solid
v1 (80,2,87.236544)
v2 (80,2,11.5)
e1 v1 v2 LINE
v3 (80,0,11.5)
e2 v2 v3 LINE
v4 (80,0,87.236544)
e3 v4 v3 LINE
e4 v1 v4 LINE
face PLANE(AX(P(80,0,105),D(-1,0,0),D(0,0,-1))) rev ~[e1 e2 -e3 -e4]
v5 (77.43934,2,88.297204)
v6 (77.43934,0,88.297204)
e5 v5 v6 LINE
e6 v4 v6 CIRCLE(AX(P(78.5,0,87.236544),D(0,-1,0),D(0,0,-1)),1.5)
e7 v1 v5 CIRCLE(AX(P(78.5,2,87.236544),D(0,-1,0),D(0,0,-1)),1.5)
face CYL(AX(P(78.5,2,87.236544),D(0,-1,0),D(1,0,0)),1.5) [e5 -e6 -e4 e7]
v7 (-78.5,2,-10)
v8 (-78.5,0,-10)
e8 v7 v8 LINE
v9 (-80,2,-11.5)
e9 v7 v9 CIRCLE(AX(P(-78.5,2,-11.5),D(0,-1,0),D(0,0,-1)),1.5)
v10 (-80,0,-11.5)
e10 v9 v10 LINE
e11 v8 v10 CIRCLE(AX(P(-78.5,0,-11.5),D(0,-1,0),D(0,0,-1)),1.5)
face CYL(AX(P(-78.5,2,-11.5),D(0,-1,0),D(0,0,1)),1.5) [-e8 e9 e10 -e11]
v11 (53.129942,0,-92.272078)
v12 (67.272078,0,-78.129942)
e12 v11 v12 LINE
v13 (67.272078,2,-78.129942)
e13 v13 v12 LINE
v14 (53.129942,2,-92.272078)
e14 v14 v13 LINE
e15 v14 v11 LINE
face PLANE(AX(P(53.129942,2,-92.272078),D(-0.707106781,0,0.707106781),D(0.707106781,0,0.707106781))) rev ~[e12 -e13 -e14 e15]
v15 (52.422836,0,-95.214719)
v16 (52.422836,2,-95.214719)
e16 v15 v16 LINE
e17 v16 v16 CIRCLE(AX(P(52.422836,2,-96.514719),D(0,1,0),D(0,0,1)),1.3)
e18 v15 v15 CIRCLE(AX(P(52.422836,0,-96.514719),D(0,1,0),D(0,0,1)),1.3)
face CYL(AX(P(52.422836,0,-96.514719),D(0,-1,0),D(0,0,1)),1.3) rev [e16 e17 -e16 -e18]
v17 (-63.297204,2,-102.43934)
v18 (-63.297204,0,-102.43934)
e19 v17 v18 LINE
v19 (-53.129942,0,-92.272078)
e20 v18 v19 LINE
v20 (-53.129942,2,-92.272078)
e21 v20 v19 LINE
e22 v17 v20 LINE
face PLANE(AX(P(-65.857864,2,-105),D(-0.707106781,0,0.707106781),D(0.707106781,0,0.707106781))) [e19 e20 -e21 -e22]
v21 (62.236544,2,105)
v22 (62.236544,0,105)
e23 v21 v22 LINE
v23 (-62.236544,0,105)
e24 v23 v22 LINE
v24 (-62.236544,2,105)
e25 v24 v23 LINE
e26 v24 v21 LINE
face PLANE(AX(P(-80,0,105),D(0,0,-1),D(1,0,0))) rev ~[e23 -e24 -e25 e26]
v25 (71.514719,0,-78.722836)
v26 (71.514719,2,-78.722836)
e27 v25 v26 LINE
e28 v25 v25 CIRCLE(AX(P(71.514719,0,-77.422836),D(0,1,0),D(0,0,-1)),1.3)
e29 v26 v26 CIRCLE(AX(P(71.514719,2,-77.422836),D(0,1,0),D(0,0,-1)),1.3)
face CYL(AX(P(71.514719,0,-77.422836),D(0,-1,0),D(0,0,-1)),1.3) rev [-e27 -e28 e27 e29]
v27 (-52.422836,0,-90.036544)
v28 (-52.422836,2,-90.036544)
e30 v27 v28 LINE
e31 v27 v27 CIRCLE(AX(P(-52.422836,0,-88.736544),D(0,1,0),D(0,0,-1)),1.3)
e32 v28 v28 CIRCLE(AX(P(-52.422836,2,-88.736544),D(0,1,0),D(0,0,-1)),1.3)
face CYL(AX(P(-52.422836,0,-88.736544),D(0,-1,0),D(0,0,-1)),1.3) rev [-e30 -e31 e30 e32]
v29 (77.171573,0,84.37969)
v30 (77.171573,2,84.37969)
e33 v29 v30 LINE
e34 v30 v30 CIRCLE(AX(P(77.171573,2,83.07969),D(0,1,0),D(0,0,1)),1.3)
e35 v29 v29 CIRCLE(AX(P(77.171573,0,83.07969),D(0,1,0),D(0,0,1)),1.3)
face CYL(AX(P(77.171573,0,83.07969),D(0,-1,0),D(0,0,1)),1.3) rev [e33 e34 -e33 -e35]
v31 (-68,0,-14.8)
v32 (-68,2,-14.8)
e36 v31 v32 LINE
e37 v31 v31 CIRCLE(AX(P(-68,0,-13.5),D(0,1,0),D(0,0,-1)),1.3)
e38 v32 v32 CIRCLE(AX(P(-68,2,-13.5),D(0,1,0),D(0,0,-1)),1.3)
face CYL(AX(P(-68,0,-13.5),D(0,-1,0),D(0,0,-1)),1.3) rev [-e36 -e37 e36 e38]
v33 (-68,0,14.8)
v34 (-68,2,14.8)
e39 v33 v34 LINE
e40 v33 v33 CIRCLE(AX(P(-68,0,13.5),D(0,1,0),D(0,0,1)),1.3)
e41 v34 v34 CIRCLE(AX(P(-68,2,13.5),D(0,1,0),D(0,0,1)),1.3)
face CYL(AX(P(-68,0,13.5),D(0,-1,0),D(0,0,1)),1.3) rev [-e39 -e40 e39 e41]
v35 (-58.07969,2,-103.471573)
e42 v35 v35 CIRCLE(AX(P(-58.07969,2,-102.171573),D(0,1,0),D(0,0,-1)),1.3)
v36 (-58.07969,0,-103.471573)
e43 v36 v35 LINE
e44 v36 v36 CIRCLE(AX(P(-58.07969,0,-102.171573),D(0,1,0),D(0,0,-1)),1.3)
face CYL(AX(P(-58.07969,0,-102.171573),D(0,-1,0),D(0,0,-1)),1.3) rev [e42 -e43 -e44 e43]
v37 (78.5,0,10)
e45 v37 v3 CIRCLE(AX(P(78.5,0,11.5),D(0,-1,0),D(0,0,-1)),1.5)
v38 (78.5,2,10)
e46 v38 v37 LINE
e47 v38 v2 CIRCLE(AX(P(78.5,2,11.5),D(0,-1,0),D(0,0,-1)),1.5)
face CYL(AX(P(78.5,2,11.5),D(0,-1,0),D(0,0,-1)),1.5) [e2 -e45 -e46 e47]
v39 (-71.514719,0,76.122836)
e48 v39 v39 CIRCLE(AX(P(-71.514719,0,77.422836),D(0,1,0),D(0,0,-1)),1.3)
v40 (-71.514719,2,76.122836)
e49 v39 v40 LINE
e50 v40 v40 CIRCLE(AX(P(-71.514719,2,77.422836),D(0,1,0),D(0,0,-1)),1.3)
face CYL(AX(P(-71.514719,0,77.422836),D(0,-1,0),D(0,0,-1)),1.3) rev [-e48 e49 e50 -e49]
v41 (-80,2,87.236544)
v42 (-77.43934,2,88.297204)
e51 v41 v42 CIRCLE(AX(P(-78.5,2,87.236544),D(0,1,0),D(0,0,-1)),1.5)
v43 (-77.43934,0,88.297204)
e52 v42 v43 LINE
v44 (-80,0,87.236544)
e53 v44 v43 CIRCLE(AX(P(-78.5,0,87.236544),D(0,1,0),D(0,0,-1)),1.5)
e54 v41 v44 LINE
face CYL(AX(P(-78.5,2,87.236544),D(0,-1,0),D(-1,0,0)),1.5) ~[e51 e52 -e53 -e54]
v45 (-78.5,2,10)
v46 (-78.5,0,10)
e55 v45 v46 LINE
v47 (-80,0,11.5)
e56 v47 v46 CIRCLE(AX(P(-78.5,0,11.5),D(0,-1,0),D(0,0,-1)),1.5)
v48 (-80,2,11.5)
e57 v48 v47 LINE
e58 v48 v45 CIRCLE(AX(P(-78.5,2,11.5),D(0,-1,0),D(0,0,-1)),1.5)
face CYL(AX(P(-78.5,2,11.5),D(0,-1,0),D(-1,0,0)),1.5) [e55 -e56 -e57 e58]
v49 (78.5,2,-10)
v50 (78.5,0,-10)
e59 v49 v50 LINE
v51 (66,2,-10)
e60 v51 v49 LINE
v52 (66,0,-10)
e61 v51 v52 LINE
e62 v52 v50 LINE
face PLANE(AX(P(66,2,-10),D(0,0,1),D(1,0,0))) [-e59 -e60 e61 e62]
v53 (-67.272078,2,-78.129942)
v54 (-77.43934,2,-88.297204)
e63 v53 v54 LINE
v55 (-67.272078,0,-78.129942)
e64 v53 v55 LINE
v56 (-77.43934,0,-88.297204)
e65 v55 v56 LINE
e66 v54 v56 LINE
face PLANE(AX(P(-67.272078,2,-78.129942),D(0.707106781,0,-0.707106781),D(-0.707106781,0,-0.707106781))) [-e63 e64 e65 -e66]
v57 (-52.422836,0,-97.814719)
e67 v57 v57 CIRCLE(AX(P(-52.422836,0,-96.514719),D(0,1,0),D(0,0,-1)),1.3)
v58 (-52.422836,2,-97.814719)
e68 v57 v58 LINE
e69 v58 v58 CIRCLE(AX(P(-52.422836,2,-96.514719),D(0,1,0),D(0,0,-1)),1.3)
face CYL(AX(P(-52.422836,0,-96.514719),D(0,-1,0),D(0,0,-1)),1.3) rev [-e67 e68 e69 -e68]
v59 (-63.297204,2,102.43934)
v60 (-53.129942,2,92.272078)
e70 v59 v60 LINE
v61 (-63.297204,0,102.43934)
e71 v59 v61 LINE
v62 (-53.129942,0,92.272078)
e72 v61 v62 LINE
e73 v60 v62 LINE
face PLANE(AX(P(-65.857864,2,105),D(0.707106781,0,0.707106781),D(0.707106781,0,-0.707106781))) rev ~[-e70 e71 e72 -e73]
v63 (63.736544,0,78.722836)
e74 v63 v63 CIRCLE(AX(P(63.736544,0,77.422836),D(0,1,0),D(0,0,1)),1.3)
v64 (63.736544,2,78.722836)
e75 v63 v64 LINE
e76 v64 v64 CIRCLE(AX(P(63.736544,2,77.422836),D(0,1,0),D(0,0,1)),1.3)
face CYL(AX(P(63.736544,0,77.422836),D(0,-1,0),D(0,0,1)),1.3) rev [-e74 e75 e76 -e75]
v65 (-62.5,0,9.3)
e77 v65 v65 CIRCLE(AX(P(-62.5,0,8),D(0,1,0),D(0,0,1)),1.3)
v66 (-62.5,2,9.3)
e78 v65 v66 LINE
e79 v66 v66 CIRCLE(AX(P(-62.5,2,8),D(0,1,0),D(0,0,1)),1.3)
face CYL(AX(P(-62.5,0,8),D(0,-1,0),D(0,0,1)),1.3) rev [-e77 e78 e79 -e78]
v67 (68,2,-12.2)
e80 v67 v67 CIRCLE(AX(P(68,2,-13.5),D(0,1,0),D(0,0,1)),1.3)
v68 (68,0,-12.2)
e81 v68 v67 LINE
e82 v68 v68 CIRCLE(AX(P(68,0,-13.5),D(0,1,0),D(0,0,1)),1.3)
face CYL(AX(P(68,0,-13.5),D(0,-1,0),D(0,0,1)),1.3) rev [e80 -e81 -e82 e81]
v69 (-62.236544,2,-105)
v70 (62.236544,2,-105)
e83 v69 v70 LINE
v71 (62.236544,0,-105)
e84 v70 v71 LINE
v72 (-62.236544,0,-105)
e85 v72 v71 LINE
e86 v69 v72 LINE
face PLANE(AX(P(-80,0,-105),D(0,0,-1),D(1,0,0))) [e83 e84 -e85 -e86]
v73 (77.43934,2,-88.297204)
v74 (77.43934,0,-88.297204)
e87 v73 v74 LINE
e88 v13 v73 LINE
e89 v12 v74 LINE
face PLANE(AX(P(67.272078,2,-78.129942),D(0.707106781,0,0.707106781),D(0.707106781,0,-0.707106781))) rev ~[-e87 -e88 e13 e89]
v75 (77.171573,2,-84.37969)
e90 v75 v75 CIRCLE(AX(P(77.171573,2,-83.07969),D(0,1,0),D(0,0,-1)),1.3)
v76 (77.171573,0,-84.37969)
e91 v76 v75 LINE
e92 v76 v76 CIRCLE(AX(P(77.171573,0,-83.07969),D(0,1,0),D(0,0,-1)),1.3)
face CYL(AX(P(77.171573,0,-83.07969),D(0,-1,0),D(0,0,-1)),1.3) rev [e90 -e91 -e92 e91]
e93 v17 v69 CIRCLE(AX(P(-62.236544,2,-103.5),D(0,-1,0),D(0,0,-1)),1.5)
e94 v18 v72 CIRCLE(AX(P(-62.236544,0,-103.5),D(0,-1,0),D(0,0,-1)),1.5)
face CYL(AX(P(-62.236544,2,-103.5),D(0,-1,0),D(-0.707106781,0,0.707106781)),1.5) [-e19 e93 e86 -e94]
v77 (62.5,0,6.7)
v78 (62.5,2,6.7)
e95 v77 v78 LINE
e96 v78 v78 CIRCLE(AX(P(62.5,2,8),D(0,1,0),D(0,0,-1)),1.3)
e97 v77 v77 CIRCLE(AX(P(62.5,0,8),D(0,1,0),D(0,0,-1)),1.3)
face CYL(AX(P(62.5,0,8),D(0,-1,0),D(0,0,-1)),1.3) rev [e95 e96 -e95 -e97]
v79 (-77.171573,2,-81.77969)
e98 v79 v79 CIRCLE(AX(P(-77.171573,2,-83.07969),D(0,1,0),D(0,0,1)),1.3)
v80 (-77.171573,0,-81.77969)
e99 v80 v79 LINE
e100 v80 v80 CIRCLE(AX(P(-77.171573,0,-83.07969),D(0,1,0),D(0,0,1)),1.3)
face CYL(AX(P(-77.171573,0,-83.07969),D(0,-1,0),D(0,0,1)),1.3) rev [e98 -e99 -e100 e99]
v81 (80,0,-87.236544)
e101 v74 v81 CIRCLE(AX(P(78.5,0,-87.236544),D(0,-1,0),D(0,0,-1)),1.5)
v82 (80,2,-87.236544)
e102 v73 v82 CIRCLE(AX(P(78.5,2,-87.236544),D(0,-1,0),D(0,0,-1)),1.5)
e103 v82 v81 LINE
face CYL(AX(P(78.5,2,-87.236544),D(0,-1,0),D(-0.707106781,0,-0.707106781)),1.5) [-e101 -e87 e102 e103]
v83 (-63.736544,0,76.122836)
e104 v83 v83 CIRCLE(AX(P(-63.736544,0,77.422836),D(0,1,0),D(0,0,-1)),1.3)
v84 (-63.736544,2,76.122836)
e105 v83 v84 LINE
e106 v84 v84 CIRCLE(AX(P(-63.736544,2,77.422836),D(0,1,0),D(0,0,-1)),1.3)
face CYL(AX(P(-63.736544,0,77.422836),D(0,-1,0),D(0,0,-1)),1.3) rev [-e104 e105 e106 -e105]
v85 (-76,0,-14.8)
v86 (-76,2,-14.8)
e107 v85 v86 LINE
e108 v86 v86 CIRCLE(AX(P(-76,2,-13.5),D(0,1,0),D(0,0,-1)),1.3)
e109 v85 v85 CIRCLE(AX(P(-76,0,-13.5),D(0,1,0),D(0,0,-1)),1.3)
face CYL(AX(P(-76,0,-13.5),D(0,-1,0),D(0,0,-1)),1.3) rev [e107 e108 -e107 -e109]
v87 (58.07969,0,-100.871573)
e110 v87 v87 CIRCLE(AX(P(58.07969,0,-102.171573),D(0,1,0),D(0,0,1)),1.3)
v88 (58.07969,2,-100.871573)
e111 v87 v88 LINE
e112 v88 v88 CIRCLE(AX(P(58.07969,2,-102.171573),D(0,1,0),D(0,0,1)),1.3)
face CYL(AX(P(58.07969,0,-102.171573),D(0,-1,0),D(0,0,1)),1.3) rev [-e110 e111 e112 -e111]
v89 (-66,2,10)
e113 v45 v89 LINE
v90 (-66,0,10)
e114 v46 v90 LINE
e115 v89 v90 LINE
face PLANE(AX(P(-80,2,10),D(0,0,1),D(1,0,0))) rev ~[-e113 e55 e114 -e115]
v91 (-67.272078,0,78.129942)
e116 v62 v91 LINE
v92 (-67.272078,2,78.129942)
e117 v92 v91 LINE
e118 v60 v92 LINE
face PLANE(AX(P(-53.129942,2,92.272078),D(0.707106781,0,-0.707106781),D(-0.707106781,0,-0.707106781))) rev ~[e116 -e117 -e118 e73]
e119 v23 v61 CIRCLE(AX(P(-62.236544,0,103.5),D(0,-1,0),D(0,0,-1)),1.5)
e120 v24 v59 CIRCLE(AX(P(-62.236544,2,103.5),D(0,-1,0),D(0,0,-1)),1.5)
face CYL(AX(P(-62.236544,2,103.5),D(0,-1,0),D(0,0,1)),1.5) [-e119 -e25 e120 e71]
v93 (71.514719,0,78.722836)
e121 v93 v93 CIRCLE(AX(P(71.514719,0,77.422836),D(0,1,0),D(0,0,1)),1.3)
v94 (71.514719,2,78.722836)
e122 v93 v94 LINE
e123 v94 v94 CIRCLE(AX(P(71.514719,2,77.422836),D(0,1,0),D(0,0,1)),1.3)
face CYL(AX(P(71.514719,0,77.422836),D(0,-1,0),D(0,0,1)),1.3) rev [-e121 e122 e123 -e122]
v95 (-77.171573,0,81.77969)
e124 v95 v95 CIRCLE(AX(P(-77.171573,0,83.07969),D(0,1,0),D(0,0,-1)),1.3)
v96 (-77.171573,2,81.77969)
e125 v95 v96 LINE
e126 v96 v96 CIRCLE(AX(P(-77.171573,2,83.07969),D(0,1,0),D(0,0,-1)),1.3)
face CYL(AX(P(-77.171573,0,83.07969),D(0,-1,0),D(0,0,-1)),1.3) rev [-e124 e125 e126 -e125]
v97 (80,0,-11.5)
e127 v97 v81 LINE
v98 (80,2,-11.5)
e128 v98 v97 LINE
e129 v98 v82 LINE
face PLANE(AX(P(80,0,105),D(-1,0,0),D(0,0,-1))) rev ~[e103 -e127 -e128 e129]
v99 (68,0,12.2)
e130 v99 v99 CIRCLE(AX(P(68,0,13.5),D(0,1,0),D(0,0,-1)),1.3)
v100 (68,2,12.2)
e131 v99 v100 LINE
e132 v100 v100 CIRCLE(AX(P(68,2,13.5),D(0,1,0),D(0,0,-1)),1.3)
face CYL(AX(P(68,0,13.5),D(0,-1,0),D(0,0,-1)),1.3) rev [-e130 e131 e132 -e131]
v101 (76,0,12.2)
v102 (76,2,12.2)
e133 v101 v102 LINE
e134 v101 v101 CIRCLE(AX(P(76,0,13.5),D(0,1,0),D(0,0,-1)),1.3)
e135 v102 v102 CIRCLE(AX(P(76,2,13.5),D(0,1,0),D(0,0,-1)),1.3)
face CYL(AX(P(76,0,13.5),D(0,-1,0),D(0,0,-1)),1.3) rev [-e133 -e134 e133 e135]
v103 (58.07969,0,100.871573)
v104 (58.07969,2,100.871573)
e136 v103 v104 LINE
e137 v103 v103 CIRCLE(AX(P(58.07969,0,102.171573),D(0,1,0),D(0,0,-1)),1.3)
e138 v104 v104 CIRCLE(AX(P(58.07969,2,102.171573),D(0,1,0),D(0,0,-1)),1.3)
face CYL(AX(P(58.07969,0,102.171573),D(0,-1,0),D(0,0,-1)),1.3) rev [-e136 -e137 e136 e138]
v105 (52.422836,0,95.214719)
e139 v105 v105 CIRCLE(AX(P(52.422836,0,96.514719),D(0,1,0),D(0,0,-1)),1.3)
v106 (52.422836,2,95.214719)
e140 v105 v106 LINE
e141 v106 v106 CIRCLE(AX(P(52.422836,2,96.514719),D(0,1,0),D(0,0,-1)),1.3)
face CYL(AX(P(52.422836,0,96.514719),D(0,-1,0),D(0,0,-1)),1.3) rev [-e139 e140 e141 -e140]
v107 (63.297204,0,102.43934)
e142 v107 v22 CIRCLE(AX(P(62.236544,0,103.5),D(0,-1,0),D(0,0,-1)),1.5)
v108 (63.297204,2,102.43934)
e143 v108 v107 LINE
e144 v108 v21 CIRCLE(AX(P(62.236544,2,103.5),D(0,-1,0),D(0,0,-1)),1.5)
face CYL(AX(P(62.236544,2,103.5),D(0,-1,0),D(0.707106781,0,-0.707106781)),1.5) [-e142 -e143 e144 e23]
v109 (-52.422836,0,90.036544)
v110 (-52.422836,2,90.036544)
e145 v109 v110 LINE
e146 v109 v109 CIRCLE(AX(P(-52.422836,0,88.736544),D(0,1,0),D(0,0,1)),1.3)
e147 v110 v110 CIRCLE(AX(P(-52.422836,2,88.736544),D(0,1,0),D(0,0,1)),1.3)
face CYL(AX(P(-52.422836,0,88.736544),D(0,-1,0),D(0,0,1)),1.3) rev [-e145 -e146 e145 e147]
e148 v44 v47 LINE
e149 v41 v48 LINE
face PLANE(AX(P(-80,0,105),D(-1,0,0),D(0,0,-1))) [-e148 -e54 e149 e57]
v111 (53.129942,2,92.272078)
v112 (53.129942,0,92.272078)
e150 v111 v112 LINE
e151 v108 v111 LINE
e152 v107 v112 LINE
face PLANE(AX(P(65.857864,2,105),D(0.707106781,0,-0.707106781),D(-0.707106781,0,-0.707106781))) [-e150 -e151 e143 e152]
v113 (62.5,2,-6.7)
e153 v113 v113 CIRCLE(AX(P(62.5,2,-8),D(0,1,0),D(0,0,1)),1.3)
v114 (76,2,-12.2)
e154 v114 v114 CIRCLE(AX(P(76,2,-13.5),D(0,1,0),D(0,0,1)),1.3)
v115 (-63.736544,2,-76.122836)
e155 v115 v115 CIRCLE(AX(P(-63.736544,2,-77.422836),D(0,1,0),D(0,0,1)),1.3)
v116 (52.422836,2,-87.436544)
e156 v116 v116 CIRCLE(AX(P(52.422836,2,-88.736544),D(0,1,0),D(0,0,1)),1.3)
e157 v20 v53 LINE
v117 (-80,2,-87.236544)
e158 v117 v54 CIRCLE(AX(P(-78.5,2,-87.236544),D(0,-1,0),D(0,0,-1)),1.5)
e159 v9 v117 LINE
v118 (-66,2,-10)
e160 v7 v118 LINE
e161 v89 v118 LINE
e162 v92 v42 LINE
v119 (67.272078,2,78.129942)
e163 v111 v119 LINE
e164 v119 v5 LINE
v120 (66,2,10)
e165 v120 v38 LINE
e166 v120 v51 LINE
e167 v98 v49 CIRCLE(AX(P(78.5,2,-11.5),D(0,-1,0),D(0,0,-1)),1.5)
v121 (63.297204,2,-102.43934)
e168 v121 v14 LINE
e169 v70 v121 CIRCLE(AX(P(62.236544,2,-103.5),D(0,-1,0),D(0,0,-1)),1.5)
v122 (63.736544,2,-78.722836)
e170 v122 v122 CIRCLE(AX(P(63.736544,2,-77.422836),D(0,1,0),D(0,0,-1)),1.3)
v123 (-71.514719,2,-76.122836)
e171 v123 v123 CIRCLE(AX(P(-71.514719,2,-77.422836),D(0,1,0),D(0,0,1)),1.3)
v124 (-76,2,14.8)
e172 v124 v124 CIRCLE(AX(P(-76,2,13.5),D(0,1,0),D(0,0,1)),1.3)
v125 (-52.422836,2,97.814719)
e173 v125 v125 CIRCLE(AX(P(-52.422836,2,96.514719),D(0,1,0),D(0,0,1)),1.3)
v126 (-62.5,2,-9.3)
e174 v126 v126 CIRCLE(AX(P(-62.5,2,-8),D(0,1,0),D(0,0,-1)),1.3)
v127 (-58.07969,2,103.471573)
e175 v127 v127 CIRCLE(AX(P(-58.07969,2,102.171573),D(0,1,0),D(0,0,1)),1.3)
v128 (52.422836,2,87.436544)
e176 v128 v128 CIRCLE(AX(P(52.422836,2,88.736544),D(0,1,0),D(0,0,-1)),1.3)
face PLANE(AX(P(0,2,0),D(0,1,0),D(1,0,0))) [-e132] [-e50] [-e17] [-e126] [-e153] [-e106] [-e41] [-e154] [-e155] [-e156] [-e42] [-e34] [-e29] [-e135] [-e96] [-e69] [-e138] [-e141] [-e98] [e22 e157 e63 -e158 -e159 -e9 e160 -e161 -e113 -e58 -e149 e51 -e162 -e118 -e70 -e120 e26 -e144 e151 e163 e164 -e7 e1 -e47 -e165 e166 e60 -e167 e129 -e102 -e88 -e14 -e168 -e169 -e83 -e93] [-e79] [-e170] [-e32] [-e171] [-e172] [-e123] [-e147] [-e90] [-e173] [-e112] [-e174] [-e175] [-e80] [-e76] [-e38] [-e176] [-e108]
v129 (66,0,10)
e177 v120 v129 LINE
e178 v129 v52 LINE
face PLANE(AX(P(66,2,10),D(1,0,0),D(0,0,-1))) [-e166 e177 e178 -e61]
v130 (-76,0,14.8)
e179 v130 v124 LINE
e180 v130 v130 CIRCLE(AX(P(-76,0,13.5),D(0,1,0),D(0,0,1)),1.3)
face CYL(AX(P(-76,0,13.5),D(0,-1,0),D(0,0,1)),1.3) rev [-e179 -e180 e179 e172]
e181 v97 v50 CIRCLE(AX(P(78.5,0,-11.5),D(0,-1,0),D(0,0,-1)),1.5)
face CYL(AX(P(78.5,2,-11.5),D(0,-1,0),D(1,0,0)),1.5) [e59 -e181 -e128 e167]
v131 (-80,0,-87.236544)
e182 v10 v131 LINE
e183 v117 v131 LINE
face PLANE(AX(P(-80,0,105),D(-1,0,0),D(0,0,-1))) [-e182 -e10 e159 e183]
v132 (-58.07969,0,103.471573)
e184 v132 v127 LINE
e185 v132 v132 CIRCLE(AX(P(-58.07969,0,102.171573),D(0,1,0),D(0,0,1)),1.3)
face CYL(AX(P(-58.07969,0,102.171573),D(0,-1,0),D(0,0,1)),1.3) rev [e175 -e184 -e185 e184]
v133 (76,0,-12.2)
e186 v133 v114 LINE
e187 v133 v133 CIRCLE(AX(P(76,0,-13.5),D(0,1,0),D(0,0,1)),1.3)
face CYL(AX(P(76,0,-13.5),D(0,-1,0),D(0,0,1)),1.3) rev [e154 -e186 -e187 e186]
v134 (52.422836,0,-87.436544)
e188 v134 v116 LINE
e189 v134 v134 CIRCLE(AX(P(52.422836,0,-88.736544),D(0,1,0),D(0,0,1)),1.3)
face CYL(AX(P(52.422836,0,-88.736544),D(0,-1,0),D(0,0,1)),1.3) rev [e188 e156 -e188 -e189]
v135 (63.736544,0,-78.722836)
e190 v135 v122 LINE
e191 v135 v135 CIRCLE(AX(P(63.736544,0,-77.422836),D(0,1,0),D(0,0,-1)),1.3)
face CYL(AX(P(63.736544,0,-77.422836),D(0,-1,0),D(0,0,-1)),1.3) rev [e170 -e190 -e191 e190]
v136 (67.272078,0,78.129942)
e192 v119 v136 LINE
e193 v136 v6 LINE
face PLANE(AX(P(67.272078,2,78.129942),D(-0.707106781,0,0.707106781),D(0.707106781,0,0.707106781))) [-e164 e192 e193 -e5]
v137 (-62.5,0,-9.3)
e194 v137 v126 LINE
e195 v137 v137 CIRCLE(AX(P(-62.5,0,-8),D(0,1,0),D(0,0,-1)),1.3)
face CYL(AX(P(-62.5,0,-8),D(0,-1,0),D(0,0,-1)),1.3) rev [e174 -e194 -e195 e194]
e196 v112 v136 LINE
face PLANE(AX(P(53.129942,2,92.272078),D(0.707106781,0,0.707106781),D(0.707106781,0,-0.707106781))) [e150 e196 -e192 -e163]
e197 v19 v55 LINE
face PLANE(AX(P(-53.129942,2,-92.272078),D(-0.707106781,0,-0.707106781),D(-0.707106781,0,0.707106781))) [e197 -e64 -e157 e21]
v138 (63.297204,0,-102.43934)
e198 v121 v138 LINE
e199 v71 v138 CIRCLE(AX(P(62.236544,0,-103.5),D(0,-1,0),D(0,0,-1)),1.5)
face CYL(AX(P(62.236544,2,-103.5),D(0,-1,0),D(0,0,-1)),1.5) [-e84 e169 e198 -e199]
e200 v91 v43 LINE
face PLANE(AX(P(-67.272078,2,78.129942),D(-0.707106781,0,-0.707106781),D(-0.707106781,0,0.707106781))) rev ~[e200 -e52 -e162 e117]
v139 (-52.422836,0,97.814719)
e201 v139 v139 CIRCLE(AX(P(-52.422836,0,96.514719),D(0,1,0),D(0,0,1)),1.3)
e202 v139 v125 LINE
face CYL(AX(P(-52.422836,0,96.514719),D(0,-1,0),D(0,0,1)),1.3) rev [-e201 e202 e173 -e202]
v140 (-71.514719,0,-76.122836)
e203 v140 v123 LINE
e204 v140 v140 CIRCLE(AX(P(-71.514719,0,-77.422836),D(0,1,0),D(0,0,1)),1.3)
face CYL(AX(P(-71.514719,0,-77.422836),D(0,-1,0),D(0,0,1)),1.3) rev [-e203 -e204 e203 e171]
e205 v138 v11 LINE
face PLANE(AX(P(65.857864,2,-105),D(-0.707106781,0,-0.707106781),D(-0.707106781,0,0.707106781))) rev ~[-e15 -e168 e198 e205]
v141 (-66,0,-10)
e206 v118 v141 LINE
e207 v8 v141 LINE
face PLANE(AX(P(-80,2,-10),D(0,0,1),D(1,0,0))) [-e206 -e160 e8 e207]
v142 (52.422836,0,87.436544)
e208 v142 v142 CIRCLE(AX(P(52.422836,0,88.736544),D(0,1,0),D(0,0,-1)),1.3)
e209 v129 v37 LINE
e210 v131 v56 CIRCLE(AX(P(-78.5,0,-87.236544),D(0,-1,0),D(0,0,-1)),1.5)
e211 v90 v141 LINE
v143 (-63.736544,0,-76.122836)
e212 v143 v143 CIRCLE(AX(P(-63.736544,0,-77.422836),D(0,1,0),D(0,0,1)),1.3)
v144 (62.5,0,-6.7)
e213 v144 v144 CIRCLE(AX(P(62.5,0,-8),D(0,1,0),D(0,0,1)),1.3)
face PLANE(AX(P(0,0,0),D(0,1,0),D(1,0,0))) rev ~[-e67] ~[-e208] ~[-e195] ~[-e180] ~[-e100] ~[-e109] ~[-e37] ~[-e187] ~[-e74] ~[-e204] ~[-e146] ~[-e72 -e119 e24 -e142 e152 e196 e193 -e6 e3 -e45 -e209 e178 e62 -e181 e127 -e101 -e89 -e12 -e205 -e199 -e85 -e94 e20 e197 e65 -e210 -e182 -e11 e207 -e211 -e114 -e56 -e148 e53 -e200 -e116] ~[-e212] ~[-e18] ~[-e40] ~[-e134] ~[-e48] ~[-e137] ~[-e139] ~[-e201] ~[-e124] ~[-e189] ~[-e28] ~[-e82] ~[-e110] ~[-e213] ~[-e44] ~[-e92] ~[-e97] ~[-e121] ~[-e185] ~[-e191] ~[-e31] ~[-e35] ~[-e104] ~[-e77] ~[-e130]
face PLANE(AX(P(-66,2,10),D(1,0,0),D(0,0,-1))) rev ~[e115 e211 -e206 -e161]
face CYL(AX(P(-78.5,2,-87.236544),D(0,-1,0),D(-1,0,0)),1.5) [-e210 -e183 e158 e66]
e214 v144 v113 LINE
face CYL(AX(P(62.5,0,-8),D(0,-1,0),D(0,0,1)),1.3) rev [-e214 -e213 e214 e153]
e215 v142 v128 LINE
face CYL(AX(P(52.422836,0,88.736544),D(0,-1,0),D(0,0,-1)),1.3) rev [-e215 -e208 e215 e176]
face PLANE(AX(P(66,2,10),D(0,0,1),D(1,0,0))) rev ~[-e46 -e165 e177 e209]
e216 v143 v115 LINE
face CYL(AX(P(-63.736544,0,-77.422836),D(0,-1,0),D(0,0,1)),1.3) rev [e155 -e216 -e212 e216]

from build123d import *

# Parameters (mm, degrees)
SKETCH2_W           = 160
SKETCH2_H           = 210
SKETCH2_R           = 1.3
BOSS_EXTRUDE1_DEPTH = 2
SKETCH3_W           = 14
SKETCH3_H           = 20
CUT_EXTRUDE1_DEPTH  = 2
FILLET1_R           = 1.5


with BuildPart() as part:
    # Sketch2 → Boss-Extrude1 (new body)
    with BuildSketch(Plane(origin=(0, 0, 0), x_dir=(1, 0, 0), z_dir=(0, 1, 0))):
        Rectangle(SKETCH2_W, SKETCH2_H)
        with Locations(Location((52.422835534, 88.736544033, 0), (0, 0, 270))):
            Circle(SKETCH2_R, mode=Mode.SUBTRACT)
        with Locations(Location((52.422835534, 96.514718626, 0), (0, 0, 270))):
            Circle(SKETCH2_R, mode=Mode.SUBTRACT)
        with Locations(Location((58.079689783, 102.171572875, 0), (0, 0, 270))):
            Circle(SKETCH2_R, mode=Mode.SUBTRACT)
        with Locations(Location((76, 13.5, 0), (0, 0, 270))):
            Circle(SKETCH2_R, mode=Mode.SUBTRACT)
        with Locations(Location((68, 13.5, 0), (0, 0, 270))):
            Circle(SKETCH2_R, mode=Mode.SUBTRACT)
        with Locations(Location((62.5, 8, 0), (0, 0, 270))):
            Circle(SKETCH2_R, mode=Mode.SUBTRACT)
        with Locations(Location((62.5, -8, 0), (0, 0, 90))):
            Circle(SKETCH2_R, mode=Mode.SUBTRACT)
        with Locations(Location((68, -13.5, 0), (0, 0, 90))):
            Circle(SKETCH2_R, mode=Mode.SUBTRACT)
        with Locations(Location((76, -13.5, 0), (0, 0, 90))):
            Circle(SKETCH2_R, mode=Mode.SUBTRACT)
        with Locations(Location((77.171572875, 83.079689783, 0), (0, 0, 90))):
            Circle(SKETCH2_R, mode=Mode.SUBTRACT)
        with Locations(Location((71.514718626, 77.422835534, 0), (0, 0, 90))):
            Circle(SKETCH2_R, mode=Mode.SUBTRACT)
        with Locations(Location((63.736544033, 77.422835534, 0), (0, 0, 90))):
            Circle(SKETCH2_R, mode=Mode.SUBTRACT)
        with Locations(Location((77.171572875, -83.079689783, 0), (0, 0, 270))):
            Circle(SKETCH2_R, mode=Mode.SUBTRACT)
        with Locations(Location((71.514718626, -77.422835534, 0), (0, 0, 270))):
            Circle(SKETCH2_R, mode=Mode.SUBTRACT)
        with Locations(Location((63.736544033, -77.422835534, 0), (0, 0, 270))):
            Circle(SKETCH2_R, mode=Mode.SUBTRACT)
        with Locations(Location((58.079689783, -102.171572875, 0), (0, 0, 90))):
            Circle(SKETCH2_R, mode=Mode.SUBTRACT)
        with Locations(Location((52.422835534, -96.514718626, 0), (0, 0, 90))):
            Circle(SKETCH2_R, mode=Mode.SUBTRACT)
        with Locations(Location((52.422835534, -88.736544033, 0), (0, 0, 90))):
            Circle(SKETCH2_R, mode=Mode.SUBTRACT)
        with Locations(Location((-58.079689783, 102.171572875, 0), (0, 0, 90))):
            Circle(SKETCH2_R, mode=Mode.SUBTRACT)
        with Locations(Location((-52.422835534, 96.514718626, 0), (0, 0, 90))):
            Circle(SKETCH2_R, mode=Mode.SUBTRACT)
        with Locations(Location((-52.422835534, 88.736544033, 0), (0, 0, 90))):
            Circle(SKETCH2_R, mode=Mode.SUBTRACT)
        with Locations(Location((-77.171572875, 83.079689783, 0), (0, 0, 270))):
            Circle(SKETCH2_R, mode=Mode.SUBTRACT)
        with Locations(Location((-71.514718626, 77.422835534, 0), (0, 0, 270))):
            Circle(SKETCH2_R, mode=Mode.SUBTRACT)
        with Locations(Location((-63.736544033, 77.422835534, 0), (0, 0, 270))):
            Circle(SKETCH2_R, mode=Mode.SUBTRACT)
        with Locations(Location((-77.171572875, -83.079689783, 0), (0, 0, 90))):
            Circle(SKETCH2_R, mode=Mode.SUBTRACT)
        with Locations(Location((-71.514718626, -77.422835534, 0), (0, 0, 90))):
            Circle(SKETCH2_R, mode=Mode.SUBTRACT)
        with Locations(Location((-63.736544033, -77.422835534, 0), (0, 0, 90))):
            Circle(SKETCH2_R, mode=Mode.SUBTRACT)
        with Locations(Location((-52.422835534, -88.736544033, 0), (0, 0, 270))):
            Circle(SKETCH2_R, mode=Mode.SUBTRACT)
        with Locations(Location((-52.422835534, -96.514718626, 0), (0, 0, 270))):
            Circle(SKETCH2_R, mode=Mode.SUBTRACT)
        with Locations(Location((-58.079689783, -102.171572875, 0), (0, 0, 270))):
            Circle(SKETCH2_R, mode=Mode.SUBTRACT)
        with Locations(Location((-62.5, -8, 0), (0, 0, 270))):
            Circle(SKETCH2_R, mode=Mode.SUBTRACT)
        with Locations(Location((-68, -13.5, 0), (0, 0, 270))):
            Circle(SKETCH2_R, mode=Mode.SUBTRACT)
        with Locations(Location((-76, -13.5, 0), (0, 0, 270))):
            Circle(SKETCH2_R, mode=Mode.SUBTRACT)
        with Locations(Location((-76, 13.5, 0), (0, 0, 90))):
            Circle(SKETCH2_R, mode=Mode.SUBTRACT)
        with Locations(Location((-68, 13.5, 0), (0, 0, 90))):
            Circle(SKETCH2_R, mode=Mode.SUBTRACT)
        with Locations(Location((-62.5, 8, 0), (0, 0, 90))):
            Circle(SKETCH2_R, mode=Mode.SUBTRACT)
    extrude(amount=BOSS_EXTRUDE1_DEPTH)

    # Sketch3 → Cut-Extrude1 (cut)
    with BuildSketch(Plane(origin=(0, 2, 0), x_dir=(1, 0, 0), z_dir=(0, 1, 0))):
        with Locations((73, 0)):
            Rectangle(SKETCH3_W, SKETCH3_H)
        Polygon((65.857864376, 105), (53.129942315, 92.272077939), (67.272077939, 78.129942315), (80, 90.857864376), (80, 105), align=None)
        Polygon((80, -90.857864376), (80, -105), (65.857864376, -105), (53.129942315, -92.272077939), (67.272077939, -78.129942315), align=None)
        Polygon((-80, 90.857864376), (-80, 105), (-65.857864376, 105), (-53.129942315, 92.272077939), (-67.272077939, 78.129942315), align=None)
        with Locations((-73, 0)):
            Rectangle(SKETCH3_W, SKETCH3_H)
        Polygon((-67.272077939, -78.129942315), (-80, -90.857864376), (-80, -105), (-65.857864376, -105), (-53.129942315, -92.272077939), align=None)
    extrude(amount=-CUT_EXTRUDE1_DEPTH, mode=Mode.SUBTRACT)

    # Fillet1
    fillet1_edges = [part.edges().sort_by_distance(p)[0] for p in [
        (65.857864376, 1, -105),
        (80, 1, -90.857864376),
        (80, 1, 90.857864376),
        (65.857864376, 1, 105),
        (-80, 1, -90.857864376),
        (-65.857864376, 1, -105),
        (-80, 1, 10),
        (-80, 1, -10),
        (-65.857864376, 1, 105),
        (-80, 1, 90.857864376),
        (80, 1, -10),
        (80, 1, 10),
    ]]
    fillet(fillet1_edges, radius=FILLET1_R)


solid = part.part
